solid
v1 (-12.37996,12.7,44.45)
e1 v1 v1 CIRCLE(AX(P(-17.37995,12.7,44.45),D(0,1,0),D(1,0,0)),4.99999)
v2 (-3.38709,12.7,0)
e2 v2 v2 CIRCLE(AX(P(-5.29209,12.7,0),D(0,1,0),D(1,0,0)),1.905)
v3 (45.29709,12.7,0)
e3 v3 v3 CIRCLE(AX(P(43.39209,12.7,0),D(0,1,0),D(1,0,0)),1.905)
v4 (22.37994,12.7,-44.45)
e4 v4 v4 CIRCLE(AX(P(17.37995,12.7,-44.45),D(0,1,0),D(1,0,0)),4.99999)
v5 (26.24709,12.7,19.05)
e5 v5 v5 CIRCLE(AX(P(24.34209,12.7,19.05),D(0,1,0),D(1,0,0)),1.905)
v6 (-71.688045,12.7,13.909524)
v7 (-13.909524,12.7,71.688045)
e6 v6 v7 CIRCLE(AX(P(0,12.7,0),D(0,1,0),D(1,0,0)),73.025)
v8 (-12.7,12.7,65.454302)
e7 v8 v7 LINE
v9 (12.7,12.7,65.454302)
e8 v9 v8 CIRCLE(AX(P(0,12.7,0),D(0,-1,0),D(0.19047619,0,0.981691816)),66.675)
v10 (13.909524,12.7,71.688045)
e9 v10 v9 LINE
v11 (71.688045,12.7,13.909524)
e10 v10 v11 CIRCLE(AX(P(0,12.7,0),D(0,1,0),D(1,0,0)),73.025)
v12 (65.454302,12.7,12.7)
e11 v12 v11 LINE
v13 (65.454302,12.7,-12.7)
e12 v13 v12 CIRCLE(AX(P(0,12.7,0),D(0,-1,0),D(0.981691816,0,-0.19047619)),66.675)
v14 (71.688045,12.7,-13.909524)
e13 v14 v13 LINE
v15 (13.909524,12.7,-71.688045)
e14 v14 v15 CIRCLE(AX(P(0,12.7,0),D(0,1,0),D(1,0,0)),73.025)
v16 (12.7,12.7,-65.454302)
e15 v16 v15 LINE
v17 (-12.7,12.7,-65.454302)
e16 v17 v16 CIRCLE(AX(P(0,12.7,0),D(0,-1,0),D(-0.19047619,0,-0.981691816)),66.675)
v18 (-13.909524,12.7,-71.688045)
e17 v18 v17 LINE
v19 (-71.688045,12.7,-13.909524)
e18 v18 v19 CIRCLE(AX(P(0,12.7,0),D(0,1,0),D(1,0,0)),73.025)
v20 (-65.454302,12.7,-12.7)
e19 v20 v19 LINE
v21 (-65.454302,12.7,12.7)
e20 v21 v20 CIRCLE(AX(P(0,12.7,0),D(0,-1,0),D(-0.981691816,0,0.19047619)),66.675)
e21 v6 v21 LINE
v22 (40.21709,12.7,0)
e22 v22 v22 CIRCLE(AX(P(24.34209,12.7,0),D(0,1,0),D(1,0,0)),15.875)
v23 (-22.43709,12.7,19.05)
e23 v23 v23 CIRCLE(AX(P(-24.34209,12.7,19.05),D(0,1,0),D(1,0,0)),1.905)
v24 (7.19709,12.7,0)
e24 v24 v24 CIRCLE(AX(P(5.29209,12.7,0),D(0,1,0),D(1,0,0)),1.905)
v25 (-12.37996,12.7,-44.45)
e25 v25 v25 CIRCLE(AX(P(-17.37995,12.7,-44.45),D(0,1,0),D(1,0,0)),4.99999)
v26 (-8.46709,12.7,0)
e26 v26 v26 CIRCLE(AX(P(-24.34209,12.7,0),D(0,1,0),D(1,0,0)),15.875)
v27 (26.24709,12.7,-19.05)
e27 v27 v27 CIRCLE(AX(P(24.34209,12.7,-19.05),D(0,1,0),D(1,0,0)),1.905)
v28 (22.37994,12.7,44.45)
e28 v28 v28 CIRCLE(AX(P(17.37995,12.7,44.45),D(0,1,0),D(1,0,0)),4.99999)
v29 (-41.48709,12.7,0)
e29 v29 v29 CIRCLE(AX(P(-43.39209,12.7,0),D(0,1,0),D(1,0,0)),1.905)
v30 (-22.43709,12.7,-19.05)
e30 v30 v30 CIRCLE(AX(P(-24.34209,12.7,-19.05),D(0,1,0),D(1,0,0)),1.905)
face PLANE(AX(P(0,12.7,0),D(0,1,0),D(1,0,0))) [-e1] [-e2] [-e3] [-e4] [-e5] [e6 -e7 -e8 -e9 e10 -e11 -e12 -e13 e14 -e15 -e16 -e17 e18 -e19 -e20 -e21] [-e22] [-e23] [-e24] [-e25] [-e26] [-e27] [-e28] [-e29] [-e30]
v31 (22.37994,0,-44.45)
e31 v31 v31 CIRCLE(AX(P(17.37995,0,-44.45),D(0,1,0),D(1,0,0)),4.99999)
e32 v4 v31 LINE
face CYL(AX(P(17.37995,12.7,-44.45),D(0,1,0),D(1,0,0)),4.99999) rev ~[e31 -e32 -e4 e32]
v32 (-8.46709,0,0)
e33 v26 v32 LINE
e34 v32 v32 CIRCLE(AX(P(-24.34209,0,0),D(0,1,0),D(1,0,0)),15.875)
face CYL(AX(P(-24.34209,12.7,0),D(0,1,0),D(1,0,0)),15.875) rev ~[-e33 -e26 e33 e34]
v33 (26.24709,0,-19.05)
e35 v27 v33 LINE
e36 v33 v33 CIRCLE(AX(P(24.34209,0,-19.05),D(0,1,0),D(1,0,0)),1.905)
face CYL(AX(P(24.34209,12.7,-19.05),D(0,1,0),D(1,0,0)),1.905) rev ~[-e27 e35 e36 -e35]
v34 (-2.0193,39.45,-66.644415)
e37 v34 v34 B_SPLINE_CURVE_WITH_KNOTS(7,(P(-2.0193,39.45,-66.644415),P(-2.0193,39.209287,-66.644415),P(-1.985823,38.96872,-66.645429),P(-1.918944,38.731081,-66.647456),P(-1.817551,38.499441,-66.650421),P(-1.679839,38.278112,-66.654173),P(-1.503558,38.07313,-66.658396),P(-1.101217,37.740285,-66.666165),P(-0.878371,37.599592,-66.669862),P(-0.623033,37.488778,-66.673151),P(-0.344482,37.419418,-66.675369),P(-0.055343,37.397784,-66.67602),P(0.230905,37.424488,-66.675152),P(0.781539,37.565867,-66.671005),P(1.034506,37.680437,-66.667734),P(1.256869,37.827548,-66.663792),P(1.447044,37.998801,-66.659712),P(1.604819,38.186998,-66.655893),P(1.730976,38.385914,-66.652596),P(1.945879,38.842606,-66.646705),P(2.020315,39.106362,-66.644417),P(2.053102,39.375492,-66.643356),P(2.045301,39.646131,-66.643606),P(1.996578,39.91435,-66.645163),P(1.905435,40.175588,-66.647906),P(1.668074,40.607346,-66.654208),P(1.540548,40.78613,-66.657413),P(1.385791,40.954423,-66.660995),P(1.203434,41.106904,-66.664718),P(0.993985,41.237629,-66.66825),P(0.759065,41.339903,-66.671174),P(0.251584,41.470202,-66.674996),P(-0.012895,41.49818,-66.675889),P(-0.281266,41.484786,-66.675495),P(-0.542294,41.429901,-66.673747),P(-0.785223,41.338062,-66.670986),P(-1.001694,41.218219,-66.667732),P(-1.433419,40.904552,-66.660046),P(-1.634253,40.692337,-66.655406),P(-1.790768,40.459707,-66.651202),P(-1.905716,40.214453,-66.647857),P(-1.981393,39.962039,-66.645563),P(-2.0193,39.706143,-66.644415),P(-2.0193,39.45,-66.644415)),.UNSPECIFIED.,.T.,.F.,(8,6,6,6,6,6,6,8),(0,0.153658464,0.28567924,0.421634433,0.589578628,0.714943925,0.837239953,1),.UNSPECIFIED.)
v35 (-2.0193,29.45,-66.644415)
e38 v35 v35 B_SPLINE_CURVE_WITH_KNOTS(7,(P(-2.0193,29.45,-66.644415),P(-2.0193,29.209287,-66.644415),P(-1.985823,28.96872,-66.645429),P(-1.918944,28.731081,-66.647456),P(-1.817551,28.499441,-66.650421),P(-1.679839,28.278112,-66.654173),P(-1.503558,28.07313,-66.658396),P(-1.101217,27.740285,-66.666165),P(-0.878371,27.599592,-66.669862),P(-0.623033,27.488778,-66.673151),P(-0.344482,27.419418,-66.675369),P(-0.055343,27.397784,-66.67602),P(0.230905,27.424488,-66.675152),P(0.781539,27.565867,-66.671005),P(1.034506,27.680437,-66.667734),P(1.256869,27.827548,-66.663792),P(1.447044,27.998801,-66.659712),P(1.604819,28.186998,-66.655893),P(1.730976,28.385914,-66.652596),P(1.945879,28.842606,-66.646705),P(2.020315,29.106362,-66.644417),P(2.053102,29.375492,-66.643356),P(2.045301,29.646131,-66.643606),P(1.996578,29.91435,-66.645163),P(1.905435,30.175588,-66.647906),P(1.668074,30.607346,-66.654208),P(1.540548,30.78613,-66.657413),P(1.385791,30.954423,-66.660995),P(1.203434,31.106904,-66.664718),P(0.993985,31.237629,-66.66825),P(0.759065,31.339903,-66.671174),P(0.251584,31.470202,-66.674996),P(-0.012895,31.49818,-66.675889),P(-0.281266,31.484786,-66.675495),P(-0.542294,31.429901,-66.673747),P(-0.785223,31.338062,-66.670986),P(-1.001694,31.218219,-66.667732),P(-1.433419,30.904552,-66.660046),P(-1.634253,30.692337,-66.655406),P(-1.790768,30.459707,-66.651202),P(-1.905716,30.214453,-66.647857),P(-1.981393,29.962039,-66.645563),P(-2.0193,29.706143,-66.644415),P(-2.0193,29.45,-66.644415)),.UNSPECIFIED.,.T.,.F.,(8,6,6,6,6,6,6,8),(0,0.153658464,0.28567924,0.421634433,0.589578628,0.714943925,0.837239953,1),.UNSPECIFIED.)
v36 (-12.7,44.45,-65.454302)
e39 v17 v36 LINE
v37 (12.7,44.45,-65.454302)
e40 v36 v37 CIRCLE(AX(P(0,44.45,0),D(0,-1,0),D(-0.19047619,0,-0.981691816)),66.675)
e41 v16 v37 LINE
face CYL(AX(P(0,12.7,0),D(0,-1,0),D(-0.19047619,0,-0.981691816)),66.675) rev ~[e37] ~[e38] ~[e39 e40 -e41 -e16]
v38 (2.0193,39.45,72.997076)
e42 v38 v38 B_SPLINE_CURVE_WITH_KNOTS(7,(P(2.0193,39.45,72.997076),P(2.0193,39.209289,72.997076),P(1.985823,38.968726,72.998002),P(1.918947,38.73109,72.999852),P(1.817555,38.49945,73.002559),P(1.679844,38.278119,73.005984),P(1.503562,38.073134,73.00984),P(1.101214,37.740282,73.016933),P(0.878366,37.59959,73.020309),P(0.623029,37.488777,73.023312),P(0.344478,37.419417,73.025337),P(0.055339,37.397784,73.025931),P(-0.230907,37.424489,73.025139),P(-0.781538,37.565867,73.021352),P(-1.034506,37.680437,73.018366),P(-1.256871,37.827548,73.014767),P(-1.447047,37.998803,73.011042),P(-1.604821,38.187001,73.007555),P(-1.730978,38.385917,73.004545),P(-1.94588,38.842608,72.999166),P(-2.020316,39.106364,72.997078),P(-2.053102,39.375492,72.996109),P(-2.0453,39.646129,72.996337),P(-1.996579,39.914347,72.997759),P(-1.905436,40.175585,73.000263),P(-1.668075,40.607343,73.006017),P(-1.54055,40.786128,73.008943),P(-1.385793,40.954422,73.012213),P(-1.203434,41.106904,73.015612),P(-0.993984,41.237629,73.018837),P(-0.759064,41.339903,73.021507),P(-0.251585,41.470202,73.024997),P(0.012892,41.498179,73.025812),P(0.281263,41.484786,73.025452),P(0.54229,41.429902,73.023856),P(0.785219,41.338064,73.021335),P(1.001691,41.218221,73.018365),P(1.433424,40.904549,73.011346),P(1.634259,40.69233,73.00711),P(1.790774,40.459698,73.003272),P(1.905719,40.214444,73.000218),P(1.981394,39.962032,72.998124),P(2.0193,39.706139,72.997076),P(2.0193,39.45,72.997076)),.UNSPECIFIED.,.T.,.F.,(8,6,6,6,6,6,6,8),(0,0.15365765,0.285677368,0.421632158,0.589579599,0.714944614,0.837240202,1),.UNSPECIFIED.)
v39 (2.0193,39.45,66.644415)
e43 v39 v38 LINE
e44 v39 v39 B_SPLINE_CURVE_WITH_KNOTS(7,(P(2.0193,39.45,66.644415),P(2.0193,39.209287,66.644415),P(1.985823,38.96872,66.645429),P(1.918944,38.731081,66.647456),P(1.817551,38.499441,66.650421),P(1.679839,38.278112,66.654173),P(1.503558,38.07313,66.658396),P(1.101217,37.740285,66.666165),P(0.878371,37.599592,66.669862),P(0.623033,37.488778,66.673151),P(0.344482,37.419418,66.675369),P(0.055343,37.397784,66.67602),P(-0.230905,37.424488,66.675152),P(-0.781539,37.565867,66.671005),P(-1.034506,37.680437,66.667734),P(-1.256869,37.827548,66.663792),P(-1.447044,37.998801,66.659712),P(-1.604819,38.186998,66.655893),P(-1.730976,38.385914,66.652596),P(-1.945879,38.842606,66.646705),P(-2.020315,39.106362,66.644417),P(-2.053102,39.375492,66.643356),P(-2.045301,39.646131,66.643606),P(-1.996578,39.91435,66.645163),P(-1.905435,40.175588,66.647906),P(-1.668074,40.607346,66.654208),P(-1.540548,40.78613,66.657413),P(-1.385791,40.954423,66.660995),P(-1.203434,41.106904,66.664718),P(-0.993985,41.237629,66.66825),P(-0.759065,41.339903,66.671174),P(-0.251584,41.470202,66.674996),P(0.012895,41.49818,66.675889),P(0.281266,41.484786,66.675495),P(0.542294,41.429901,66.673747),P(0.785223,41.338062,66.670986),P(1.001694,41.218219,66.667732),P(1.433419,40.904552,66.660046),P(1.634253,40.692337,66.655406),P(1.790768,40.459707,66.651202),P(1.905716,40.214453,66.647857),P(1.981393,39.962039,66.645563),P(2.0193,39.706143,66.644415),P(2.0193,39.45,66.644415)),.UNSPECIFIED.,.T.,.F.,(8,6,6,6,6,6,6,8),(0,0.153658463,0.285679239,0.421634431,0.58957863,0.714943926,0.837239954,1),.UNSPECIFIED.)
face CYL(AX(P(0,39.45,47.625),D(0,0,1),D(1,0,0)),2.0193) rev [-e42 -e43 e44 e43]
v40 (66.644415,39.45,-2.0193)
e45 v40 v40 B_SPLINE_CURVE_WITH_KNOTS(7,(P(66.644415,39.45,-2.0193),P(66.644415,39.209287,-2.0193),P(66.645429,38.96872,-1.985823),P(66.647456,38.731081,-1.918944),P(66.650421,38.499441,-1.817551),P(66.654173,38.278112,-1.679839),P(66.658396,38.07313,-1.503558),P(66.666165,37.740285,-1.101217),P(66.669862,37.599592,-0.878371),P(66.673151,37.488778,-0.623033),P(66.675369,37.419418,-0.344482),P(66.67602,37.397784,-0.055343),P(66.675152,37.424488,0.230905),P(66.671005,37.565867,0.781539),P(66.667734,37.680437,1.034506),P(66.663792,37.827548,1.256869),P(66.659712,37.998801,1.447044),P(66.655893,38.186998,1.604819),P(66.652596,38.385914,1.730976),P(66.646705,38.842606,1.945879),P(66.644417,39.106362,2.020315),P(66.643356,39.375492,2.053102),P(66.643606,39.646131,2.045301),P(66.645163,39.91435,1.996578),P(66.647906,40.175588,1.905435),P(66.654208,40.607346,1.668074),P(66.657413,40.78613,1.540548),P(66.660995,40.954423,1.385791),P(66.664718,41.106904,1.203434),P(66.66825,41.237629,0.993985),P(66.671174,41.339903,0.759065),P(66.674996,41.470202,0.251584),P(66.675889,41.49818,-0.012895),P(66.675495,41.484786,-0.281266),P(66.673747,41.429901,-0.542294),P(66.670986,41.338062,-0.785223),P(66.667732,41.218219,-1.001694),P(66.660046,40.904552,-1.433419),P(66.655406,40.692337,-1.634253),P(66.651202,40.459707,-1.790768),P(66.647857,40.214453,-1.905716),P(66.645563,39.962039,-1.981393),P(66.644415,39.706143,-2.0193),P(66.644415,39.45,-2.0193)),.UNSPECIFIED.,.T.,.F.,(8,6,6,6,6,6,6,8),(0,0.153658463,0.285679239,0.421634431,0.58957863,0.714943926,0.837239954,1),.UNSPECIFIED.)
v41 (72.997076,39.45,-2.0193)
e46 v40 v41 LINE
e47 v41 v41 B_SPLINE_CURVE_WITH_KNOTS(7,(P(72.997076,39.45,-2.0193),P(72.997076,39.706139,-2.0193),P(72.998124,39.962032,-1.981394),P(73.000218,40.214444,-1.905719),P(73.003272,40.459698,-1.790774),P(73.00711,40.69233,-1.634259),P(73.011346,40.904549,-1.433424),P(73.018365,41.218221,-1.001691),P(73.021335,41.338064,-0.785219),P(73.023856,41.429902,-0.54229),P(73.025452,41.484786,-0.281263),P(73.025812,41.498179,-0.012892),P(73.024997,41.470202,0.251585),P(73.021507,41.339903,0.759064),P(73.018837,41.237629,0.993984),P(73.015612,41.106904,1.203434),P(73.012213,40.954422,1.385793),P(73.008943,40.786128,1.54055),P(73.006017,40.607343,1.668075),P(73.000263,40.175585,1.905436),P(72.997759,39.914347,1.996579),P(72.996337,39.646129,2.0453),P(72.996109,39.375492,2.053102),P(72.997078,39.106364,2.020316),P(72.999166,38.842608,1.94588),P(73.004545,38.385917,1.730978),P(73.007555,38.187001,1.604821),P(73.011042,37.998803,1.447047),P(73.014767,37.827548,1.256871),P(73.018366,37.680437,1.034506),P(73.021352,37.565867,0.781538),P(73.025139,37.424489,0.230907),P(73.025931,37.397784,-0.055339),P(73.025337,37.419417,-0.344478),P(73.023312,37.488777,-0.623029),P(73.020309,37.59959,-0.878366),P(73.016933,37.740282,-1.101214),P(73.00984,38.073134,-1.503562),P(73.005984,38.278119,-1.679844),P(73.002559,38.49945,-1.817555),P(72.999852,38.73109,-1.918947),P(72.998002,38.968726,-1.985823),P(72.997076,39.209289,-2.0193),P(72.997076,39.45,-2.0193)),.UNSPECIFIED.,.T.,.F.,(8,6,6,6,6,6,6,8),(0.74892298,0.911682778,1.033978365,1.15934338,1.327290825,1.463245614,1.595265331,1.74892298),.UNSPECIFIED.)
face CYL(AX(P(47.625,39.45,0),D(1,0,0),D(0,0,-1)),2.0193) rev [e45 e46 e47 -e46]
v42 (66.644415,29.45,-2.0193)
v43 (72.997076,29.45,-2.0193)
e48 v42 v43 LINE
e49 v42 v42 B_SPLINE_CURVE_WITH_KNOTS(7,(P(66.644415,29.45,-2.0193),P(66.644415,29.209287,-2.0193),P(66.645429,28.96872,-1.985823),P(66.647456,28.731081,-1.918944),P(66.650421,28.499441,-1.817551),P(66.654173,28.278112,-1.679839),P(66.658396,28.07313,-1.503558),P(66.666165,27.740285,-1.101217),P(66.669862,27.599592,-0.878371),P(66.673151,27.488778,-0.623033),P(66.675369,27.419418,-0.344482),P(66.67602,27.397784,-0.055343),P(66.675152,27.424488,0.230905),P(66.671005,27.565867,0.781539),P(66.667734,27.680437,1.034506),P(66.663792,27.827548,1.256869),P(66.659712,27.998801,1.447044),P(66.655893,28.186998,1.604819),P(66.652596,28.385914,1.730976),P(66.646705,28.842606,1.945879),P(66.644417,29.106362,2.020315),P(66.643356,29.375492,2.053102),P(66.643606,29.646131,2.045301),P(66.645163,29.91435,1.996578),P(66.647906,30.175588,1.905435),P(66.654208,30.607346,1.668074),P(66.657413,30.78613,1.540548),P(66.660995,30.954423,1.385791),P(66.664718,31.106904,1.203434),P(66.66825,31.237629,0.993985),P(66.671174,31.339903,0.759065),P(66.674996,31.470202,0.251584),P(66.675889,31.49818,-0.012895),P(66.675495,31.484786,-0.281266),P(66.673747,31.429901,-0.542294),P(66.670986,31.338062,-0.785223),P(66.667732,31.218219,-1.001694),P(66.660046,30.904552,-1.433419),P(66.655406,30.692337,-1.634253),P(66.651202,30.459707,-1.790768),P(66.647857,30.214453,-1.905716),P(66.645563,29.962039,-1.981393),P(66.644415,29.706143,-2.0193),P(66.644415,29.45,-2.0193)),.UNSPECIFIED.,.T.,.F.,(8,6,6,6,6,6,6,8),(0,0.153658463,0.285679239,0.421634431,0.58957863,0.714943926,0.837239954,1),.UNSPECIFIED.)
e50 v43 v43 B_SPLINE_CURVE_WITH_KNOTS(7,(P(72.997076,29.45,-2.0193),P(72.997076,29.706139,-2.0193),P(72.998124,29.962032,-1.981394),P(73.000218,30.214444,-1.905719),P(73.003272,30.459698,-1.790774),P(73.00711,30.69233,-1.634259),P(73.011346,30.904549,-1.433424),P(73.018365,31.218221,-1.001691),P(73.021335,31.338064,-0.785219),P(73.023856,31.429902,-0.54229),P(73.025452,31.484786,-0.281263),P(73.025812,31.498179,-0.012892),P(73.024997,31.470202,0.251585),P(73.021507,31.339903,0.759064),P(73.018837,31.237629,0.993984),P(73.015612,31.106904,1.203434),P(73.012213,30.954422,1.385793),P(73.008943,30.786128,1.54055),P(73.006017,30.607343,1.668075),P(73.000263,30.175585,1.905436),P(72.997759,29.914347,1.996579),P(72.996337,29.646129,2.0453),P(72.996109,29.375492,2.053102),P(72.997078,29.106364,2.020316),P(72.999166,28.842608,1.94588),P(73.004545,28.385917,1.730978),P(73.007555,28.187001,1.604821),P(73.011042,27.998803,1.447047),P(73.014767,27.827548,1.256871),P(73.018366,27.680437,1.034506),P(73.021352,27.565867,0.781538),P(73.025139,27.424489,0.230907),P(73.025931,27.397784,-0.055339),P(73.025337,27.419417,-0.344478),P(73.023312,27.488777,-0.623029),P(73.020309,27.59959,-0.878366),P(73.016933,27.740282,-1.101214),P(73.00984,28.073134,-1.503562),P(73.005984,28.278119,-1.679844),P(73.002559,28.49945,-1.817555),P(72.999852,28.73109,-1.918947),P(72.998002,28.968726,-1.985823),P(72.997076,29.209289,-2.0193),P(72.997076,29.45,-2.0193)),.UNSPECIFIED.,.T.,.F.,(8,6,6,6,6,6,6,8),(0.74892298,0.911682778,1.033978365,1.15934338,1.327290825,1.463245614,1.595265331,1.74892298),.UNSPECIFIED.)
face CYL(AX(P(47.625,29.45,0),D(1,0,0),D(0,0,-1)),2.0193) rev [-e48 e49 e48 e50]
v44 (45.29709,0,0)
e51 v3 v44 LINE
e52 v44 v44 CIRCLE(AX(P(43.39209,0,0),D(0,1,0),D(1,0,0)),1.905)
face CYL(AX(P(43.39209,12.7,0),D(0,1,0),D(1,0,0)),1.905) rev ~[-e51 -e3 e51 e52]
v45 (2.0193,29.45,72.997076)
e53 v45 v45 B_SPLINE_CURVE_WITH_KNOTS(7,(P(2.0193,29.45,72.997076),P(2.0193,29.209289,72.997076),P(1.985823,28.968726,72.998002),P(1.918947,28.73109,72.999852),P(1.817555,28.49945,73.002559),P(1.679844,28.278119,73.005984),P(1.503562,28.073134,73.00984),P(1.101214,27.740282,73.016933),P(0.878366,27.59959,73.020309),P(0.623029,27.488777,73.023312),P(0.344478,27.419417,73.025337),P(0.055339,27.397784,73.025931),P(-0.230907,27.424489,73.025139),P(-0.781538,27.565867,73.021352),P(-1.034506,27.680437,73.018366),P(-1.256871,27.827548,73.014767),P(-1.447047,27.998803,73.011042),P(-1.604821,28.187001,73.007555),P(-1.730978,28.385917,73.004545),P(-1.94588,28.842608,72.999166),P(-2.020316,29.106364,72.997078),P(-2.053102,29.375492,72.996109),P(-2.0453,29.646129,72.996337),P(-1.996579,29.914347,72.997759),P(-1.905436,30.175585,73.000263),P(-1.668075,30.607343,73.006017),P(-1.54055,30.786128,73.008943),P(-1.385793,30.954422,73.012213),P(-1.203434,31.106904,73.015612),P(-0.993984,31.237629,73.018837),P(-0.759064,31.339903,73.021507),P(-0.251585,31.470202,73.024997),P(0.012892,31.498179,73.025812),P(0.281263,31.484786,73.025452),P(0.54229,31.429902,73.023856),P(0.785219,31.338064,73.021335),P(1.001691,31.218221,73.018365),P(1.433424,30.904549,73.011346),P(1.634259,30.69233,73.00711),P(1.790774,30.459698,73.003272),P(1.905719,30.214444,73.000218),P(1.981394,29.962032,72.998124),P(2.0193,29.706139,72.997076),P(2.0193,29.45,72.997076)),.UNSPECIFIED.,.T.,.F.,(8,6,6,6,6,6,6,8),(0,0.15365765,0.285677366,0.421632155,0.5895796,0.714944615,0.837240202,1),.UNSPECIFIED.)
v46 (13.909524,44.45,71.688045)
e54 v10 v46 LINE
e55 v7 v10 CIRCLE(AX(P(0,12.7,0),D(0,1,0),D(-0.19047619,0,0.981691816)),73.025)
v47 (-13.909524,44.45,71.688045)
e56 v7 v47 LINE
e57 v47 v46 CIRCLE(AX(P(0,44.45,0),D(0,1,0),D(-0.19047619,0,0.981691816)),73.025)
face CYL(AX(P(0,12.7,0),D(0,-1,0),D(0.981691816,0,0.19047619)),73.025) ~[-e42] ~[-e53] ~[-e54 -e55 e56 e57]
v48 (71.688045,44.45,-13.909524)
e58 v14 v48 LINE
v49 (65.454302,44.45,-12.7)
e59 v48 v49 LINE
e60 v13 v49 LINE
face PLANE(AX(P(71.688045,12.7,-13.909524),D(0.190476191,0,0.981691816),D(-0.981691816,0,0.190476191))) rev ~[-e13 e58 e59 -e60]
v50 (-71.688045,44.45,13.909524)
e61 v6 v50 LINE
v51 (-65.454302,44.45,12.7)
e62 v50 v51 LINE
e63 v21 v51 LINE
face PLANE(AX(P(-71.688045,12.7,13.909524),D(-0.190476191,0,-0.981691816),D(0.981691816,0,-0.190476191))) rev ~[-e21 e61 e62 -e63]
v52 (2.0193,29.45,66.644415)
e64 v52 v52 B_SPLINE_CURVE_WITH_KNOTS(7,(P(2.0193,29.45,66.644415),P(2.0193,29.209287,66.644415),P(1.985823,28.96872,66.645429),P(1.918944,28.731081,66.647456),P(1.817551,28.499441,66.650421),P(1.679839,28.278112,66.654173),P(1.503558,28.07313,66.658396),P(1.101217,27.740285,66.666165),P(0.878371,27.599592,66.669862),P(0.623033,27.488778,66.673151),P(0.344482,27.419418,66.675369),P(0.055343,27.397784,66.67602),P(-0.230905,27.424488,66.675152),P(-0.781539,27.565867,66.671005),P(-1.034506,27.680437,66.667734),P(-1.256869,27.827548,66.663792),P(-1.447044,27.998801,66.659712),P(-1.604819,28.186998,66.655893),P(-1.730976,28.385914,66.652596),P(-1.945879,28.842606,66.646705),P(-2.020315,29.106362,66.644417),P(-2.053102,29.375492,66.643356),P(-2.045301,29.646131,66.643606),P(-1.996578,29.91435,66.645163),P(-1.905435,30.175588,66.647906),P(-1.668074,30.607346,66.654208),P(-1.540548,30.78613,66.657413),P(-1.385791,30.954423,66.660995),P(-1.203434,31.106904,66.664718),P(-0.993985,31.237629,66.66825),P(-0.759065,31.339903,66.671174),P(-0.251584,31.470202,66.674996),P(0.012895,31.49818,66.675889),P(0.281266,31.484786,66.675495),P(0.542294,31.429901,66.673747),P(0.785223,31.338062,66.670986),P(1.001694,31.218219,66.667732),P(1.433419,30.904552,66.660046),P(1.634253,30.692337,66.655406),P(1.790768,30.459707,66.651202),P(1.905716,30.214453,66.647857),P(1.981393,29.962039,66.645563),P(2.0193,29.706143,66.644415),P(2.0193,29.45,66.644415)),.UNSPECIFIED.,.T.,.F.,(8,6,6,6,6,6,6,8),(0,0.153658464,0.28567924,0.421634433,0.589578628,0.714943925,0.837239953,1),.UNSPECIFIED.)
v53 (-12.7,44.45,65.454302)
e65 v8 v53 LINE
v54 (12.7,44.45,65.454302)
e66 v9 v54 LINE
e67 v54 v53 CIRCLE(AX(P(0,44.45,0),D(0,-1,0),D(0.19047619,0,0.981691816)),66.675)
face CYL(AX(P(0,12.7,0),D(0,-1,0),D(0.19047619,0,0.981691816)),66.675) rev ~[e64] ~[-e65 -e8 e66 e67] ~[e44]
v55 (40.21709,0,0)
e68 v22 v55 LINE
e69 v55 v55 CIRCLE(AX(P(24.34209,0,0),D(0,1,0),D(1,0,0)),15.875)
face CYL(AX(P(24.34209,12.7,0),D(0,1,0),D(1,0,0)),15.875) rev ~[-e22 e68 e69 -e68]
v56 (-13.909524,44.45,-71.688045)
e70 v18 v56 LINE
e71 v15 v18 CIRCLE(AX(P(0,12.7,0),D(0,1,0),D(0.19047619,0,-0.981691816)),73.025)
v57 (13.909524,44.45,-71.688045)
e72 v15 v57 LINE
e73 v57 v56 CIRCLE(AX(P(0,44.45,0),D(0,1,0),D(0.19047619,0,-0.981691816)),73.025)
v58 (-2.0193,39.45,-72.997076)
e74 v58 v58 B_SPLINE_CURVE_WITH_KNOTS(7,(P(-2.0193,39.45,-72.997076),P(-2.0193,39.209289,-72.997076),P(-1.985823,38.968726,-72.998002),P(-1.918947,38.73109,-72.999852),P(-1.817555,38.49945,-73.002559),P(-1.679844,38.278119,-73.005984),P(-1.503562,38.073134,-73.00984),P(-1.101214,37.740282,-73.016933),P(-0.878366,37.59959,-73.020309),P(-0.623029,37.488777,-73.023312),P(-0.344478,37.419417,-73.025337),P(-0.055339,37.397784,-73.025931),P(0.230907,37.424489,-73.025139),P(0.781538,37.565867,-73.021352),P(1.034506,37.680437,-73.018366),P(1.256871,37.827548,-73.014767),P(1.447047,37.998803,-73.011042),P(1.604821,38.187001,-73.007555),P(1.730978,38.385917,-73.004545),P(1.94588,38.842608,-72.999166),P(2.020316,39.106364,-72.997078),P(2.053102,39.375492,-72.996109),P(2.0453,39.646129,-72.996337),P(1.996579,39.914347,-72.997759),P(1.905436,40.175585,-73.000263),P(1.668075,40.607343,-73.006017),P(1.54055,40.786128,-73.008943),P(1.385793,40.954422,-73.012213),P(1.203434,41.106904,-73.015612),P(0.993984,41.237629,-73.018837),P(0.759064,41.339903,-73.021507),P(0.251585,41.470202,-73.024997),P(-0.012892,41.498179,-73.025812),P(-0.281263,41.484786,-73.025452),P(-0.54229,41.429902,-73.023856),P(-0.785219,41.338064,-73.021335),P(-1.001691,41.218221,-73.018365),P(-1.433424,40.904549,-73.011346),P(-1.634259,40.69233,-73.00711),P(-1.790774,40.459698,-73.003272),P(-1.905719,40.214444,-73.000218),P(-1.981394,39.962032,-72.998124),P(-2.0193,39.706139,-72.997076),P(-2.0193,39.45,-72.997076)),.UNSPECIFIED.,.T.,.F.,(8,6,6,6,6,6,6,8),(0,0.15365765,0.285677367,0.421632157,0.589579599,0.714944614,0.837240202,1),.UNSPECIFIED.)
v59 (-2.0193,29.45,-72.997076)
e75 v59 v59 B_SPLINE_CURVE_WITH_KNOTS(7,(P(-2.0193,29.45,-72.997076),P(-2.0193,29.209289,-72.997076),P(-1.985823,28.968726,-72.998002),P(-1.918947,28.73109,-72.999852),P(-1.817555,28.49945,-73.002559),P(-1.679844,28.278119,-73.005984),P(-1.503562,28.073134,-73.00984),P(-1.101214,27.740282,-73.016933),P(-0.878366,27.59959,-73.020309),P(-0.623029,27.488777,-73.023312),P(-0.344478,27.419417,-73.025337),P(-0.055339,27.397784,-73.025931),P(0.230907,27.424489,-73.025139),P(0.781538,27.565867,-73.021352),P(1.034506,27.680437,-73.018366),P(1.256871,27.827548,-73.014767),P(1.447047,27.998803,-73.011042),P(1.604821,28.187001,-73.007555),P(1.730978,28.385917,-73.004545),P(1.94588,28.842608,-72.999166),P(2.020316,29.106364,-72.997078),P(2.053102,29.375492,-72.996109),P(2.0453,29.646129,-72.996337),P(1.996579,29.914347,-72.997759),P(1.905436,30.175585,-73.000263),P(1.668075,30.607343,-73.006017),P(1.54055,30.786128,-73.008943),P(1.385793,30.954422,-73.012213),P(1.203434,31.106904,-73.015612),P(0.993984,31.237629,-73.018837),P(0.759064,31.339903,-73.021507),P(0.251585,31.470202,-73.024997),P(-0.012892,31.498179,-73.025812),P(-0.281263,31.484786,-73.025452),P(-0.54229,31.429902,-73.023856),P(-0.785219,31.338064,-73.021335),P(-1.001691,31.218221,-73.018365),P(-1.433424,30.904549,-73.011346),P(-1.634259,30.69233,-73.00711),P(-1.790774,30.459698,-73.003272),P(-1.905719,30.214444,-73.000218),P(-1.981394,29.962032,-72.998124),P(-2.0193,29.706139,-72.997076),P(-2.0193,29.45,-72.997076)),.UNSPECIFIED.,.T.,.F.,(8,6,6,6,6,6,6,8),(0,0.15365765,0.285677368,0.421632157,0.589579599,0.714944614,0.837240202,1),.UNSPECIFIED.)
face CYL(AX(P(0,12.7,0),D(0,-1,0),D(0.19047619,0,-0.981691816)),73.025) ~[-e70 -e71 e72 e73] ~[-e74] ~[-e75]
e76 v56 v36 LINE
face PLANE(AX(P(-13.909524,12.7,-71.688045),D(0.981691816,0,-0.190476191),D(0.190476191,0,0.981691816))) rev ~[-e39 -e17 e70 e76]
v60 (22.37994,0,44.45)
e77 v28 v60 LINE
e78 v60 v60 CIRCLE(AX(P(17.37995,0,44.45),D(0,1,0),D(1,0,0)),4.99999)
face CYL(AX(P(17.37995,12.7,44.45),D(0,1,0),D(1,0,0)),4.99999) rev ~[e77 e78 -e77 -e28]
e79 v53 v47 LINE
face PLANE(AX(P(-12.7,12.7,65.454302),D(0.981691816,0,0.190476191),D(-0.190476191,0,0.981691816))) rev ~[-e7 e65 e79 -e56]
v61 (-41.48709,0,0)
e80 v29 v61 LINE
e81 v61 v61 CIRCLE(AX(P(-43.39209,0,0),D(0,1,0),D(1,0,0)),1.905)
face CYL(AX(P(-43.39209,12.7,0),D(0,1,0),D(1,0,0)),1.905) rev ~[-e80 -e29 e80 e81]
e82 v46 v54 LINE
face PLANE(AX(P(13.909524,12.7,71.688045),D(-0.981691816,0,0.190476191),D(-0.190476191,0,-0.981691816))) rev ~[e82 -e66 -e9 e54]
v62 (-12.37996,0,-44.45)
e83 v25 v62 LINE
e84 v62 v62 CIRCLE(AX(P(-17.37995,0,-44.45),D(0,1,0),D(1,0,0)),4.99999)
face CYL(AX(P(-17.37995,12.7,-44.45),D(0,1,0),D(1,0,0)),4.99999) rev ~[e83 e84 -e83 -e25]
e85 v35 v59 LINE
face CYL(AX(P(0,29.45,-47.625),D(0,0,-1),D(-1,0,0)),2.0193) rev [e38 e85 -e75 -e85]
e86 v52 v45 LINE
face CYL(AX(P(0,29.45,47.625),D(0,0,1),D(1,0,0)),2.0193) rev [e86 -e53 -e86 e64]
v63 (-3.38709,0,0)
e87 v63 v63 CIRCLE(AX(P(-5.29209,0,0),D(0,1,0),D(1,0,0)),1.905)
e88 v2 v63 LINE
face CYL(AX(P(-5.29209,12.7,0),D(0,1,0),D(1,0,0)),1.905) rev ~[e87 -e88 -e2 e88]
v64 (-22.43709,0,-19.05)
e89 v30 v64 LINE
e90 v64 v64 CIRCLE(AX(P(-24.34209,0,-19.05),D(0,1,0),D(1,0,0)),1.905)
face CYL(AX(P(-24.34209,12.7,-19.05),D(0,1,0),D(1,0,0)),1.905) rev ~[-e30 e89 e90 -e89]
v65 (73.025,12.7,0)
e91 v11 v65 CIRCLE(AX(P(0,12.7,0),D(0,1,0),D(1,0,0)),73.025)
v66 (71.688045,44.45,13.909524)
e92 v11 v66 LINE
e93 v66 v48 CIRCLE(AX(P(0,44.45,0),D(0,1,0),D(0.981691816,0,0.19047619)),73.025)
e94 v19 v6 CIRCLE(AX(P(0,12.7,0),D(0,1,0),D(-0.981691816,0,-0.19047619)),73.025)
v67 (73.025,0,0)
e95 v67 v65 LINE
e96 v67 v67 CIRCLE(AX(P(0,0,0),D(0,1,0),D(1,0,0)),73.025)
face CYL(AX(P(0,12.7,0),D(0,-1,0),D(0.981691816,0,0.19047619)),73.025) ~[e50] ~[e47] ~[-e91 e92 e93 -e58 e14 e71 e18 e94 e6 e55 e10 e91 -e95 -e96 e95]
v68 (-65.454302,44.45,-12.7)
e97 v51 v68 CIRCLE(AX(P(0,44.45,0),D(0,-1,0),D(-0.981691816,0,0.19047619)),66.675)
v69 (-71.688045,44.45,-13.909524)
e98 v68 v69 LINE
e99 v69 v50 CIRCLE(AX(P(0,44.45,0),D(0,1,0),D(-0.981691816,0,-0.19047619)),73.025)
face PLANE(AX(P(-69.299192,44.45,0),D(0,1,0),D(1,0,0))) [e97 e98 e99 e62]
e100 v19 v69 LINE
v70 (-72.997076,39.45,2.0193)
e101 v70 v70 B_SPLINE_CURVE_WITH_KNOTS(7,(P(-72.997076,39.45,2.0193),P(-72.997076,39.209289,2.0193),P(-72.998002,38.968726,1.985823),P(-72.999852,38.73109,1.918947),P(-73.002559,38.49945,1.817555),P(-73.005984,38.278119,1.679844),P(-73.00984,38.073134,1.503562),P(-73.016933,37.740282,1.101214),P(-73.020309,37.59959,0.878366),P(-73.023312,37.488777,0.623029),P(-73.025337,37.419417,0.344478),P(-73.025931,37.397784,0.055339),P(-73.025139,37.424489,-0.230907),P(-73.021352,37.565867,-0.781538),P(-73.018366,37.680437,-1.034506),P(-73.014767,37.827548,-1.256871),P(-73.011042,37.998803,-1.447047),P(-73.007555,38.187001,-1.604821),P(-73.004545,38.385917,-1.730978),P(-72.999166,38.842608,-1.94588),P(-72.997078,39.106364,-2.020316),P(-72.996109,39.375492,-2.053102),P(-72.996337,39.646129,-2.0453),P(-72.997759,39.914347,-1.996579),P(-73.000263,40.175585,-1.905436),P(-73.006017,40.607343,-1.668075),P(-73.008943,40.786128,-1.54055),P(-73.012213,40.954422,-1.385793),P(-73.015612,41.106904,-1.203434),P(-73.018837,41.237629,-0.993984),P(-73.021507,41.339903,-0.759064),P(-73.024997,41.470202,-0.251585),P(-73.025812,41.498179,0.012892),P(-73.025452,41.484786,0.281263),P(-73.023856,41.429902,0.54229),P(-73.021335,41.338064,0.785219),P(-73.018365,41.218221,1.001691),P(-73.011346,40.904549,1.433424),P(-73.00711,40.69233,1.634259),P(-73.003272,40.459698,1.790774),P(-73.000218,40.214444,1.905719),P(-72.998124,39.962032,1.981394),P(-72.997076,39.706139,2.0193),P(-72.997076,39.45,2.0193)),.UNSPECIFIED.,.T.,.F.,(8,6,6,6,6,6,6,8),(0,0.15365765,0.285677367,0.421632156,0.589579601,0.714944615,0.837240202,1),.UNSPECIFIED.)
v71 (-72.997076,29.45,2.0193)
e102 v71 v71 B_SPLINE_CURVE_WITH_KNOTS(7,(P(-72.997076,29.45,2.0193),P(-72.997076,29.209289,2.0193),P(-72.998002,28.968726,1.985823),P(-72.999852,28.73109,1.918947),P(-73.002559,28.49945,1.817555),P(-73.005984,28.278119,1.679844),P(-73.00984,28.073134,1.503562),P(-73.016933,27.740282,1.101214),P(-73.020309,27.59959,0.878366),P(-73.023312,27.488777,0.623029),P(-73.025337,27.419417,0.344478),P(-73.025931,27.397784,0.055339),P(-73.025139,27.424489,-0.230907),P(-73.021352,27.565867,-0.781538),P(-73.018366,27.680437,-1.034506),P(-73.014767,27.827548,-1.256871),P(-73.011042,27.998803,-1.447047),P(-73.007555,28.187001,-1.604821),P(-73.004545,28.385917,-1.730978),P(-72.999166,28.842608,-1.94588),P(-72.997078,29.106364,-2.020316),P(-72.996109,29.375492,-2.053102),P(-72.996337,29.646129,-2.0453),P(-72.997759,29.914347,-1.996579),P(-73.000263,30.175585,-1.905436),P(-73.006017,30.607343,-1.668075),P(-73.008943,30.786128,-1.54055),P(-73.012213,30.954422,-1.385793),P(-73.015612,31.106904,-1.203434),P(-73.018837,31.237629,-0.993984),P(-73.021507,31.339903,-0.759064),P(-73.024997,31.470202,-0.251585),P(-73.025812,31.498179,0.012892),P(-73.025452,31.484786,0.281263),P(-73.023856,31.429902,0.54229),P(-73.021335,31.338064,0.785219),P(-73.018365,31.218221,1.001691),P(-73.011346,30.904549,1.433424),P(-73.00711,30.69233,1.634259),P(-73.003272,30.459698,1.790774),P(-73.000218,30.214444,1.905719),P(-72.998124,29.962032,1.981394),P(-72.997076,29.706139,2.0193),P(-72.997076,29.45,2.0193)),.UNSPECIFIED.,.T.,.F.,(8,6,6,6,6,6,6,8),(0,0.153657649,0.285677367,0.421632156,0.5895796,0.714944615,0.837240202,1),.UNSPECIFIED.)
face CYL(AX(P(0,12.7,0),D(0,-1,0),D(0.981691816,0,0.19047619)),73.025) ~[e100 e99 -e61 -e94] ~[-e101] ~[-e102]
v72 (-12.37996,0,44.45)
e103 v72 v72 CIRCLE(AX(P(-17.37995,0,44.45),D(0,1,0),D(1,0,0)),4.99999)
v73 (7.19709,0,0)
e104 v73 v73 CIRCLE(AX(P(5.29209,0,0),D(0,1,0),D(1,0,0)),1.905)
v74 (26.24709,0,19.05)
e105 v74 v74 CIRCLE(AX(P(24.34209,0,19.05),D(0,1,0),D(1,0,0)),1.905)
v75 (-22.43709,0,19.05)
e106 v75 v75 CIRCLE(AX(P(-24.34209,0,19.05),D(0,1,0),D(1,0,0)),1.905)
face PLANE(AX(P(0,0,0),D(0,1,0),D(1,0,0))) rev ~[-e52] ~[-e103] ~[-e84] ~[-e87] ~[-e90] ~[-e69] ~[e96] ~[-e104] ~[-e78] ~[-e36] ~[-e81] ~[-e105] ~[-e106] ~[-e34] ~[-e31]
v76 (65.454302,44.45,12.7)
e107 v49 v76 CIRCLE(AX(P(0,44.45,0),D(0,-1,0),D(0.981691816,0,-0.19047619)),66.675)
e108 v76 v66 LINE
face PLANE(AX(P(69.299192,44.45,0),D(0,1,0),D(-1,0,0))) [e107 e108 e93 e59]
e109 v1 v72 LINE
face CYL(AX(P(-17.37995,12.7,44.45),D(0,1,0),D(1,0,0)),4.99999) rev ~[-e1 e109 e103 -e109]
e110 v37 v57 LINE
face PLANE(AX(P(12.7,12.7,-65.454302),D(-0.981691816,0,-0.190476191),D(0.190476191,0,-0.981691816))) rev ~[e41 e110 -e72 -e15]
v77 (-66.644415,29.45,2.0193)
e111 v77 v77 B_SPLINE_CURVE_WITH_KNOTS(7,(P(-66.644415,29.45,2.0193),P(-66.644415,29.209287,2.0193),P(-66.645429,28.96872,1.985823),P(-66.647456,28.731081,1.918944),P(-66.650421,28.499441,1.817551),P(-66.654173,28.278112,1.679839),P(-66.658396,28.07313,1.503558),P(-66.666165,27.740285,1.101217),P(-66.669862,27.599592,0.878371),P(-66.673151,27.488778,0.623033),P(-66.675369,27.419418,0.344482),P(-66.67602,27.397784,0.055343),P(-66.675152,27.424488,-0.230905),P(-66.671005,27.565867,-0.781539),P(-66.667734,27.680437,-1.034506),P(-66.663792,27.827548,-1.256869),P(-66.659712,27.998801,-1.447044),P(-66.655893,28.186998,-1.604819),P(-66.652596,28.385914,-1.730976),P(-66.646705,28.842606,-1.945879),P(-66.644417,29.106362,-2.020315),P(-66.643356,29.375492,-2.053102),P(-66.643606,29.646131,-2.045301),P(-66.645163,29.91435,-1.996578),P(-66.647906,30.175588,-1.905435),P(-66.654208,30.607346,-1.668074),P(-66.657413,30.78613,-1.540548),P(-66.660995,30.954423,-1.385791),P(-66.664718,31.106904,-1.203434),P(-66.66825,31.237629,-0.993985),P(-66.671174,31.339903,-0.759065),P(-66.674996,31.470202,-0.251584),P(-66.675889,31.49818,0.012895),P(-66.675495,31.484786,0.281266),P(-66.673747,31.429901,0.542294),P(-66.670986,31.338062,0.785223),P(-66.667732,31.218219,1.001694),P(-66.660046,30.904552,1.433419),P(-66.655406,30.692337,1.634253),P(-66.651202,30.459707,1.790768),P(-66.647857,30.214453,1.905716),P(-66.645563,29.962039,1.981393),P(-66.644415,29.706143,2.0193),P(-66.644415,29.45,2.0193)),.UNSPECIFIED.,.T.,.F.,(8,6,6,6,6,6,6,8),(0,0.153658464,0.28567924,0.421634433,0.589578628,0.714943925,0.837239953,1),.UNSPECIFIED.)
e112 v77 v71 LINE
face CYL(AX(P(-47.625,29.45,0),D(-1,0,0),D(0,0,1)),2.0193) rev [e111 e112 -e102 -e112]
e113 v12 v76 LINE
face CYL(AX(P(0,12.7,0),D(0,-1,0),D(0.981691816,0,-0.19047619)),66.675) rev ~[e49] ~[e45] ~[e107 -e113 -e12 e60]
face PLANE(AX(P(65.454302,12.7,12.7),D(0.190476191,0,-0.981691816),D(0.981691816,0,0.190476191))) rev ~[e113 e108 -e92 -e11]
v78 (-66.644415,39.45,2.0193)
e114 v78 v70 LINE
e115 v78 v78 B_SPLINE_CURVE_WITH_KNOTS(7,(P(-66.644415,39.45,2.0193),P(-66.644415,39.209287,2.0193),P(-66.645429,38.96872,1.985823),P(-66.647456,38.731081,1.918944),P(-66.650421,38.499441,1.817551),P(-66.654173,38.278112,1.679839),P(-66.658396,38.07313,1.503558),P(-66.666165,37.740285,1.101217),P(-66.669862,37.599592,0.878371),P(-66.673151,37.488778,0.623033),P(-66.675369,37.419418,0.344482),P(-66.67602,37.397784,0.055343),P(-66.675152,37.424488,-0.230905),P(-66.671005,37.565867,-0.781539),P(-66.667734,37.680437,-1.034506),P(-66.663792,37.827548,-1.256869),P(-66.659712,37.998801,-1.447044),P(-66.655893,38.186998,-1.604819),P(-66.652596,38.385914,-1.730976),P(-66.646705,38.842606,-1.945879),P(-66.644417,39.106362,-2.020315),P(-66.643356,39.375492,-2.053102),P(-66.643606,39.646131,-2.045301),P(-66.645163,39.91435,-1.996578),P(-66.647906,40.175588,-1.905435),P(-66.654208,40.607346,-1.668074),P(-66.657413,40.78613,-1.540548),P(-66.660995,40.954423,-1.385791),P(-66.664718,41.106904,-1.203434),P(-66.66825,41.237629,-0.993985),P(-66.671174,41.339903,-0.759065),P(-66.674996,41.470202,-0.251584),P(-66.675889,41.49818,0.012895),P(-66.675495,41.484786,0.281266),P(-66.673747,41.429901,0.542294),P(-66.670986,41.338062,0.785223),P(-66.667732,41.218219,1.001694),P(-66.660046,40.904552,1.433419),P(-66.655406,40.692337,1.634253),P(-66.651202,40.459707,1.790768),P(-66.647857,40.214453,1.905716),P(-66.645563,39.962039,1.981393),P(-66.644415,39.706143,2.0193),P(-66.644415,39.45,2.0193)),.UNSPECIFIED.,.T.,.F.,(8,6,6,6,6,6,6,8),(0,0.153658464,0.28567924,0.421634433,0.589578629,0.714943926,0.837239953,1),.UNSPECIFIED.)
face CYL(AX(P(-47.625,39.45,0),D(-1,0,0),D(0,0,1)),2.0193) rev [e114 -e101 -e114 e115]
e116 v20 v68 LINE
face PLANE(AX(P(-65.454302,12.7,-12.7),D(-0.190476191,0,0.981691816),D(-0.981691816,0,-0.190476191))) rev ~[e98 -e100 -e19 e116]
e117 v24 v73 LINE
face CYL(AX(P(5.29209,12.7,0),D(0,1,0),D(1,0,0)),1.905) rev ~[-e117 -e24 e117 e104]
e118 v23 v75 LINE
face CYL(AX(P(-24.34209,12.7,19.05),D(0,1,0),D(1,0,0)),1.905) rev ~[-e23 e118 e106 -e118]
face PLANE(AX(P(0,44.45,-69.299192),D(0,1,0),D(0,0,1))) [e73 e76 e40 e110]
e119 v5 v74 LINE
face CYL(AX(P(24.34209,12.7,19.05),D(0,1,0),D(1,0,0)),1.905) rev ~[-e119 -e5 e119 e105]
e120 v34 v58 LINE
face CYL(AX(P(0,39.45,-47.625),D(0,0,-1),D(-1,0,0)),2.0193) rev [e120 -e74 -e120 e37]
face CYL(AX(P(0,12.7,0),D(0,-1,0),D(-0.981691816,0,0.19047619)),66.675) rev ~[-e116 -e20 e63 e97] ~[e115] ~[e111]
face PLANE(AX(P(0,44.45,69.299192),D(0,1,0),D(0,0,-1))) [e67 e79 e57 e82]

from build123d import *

# Parameters (mm, degrees)
SKETCH1_R                       = 73.025
BASE_EXTRUDE_DEPTH              = 12.7
STANDOFFS_DEPTH                 = 31.75
CIRPATTERN1_COUNT               = 4
F_10_32_TAPPED_HOLE1_AT_2_COUNT = 2
F_10_32_TAPPED_HOLE1_AT_2_PITCH = 10
CIRPATTERN2_COUNT               = 4
SKETCH3_R                       = 15.875
SKETCH3_R_2                     = 1.905
SKETCH3_R_3                     = 4.99999
BODY_HOLES_DEPTH                = 12.7


with BuildPart() as part:
    # Sketch1 → Base Extrude (new body)
    with BuildSketch(Plane(origin=(0, 0, 0), x_dir=(1, 0, 0), z_dir=(0, 1, 0))):
        Circle(SKETCH1_R)
    extrude(amount=BASE_EXTRUDE_DEPTH)

    # Sketch2 → Standoffs (add)
    with BuildSketch(Plane(origin=(0, 12.7, 0), x_dir=(1, 0, 0), z_dir=(0, 1, 0))):
        with BuildLine():
            ThreePointArc((-65.454301807, -12.7), (-66.675, 0), (-65.454301807, 12.7))
            Line((-65.454301807, 12.7), (-71.688044836, 13.90952381))
            ThreePointArc((-71.688044836, 13.90952381), (-73.025, 0), (-71.688044836, -13.90952381))
            Line((-71.688044836, -13.90952381), (-65.454301807, -12.7))
        make_face()
    standoffs = extrude(amount=STANDOFFS_DEPTH)

    # CirPattern1: Standoffs ×4 about axis
    cirpattern1_axis = Axis((0, 0, 0), (0, 1, 0))
    for i in range(1, CIRPATTERN1_COUNT):
        add(standoffs.rotate(cirpattern1_axis, i * 360 / CIRPATTERN1_COUNT))

    # Sketch7 → #10-32 Tapped Hole1 (revolve, cut)
    with BuildSketch(Plane(origin=(-73.025, 39.45, 0), x_dir=(0, 0, 1), z_dir=(0, 1, 0))):
        Polygon((0, 0), (0, 26.613317848), (2.0193, 25.4), (2.0193, 0), align=None)
    f_10_32_tapped_hole1 = revolve(axis=Axis((-79.375, 39.45, 0), (1, 0, 0)), mode=Mode.SUBTRACT)

    # #10-32 Tapped Hole1 at 2: #10-32 Tapped Hole1 ×2
    with Locations(*[(0, -i * F_10_32_TAPPED_HOLE1_AT_2_PITCH, 0) for i in range(1, F_10_32_TAPPED_HOLE1_AT_2_COUNT)]):
        add(f_10_32_tapped_hole1, mode=Mode.SUBTRACT)

    # CirPattern2: #10-32 Tapped Hole1 ×4 about axis
    cirpattern2_axis = Axis((0, 0, 0), (0, 1, 0))
    for i in range(1, CIRPATTERN2_COUNT):
        add(f_10_32_tapped_hole1.rotate(cirpattern2_axis, i * 360 / CIRPATTERN2_COUNT), mode=Mode.SUBTRACT)

    # CirPattern2 copy 1 sketch → CirPattern2 copy 1 (revolve, cut)
    with BuildSketch(Plane(origin=(0, 29.45, 73.025), x_dir=(1, 0, 0), z_dir=(0, 1, 0))):
        Polygon((0, 0), (0, 26.613317848), (2.0193, 25.4), (2.0193, 0), align=None)
    revolve(axis=Axis((0, 29.45, 79.375), (0, 0, -1)), mode=Mode.SUBTRACT)

    # CirPattern2 copy 2 sketch → CirPattern2 copy 2 (revolve, cut)
    with BuildSketch(Plane(origin=(73.025, 29.45, 0), x_dir=(0, 0, -1), z_dir=(0, 1, 0))):
        Polygon((0, 0), (0, 26.613317848), (2.0193, 25.4), (2.0193, 0), align=None)
    revolve(axis=Axis((79.375, 29.45, 0), (-1, 0, 0)), mode=Mode.SUBTRACT)

    # CirPattern2 copy 3 sketch → CirPattern2 copy 3 (revolve, cut)
    with BuildSketch(Plane(origin=(0, 29.45, -73.025), x_dir=(-1, 0, 0), z_dir=(0, 1, 0))):
        Polygon((0, 0), (0, 26.613317848), (2.0193, 25.4), (2.0193, 0), align=None)
    revolve(axis=Axis((0, 29.45, -79.375), (0, 0, 1)), mode=Mode.SUBTRACT)

    # Sketch3 → Body-Holes (cut)
    with BuildSketch(Plane(origin=(0, 12.7, 0), x_dir=(1, 0, 0), z_dir=(0, 1, 0))):
        with Locations((-24.34209, 0)):
            Circle(SKETCH3_R)
        with Locations((24.34209, 0)):
            Circle(SKETCH3_R)
        with Locations((-24.34209, 19.05)):
            Circle(SKETCH3_R_2)
        with Locations((-24.34209, -19.05)):
            Circle(SKETCH3_R_2)
        with Locations((-17.37995, -44.45)):
            Circle(SKETCH3_R_3)
        with Locations((17.37995, -44.45)):
            Circle(SKETCH3_R_3)
        with Locations((17.37995, 44.45)):
            Circle(SKETCH3_R_3)
        with Locations((-17.37995, 44.45)):
            Circle(SKETCH3_R_3)
        with Locations((-43.39209, 0)):
            Circle(SKETCH3_R_2)
        with Locations((-5.29209, 0)):
            Circle(SKETCH3_R_2)
        with Locations((24.34209, -19.05)):
            Circle(SKETCH3_R_2)
        with Locations((43.39209, 0)):
            Circle(SKETCH3_R_2)
        with Locations((5.29209, 0)):
            Circle(SKETCH3_R_2)
        with Locations((24.34209, 19.05)):
            Circle(SKETCH3_R_2)
    extrude(amount=-BODY_HOLES_DEPTH, mode=Mode.SUBTRACT)


solid = part.part
